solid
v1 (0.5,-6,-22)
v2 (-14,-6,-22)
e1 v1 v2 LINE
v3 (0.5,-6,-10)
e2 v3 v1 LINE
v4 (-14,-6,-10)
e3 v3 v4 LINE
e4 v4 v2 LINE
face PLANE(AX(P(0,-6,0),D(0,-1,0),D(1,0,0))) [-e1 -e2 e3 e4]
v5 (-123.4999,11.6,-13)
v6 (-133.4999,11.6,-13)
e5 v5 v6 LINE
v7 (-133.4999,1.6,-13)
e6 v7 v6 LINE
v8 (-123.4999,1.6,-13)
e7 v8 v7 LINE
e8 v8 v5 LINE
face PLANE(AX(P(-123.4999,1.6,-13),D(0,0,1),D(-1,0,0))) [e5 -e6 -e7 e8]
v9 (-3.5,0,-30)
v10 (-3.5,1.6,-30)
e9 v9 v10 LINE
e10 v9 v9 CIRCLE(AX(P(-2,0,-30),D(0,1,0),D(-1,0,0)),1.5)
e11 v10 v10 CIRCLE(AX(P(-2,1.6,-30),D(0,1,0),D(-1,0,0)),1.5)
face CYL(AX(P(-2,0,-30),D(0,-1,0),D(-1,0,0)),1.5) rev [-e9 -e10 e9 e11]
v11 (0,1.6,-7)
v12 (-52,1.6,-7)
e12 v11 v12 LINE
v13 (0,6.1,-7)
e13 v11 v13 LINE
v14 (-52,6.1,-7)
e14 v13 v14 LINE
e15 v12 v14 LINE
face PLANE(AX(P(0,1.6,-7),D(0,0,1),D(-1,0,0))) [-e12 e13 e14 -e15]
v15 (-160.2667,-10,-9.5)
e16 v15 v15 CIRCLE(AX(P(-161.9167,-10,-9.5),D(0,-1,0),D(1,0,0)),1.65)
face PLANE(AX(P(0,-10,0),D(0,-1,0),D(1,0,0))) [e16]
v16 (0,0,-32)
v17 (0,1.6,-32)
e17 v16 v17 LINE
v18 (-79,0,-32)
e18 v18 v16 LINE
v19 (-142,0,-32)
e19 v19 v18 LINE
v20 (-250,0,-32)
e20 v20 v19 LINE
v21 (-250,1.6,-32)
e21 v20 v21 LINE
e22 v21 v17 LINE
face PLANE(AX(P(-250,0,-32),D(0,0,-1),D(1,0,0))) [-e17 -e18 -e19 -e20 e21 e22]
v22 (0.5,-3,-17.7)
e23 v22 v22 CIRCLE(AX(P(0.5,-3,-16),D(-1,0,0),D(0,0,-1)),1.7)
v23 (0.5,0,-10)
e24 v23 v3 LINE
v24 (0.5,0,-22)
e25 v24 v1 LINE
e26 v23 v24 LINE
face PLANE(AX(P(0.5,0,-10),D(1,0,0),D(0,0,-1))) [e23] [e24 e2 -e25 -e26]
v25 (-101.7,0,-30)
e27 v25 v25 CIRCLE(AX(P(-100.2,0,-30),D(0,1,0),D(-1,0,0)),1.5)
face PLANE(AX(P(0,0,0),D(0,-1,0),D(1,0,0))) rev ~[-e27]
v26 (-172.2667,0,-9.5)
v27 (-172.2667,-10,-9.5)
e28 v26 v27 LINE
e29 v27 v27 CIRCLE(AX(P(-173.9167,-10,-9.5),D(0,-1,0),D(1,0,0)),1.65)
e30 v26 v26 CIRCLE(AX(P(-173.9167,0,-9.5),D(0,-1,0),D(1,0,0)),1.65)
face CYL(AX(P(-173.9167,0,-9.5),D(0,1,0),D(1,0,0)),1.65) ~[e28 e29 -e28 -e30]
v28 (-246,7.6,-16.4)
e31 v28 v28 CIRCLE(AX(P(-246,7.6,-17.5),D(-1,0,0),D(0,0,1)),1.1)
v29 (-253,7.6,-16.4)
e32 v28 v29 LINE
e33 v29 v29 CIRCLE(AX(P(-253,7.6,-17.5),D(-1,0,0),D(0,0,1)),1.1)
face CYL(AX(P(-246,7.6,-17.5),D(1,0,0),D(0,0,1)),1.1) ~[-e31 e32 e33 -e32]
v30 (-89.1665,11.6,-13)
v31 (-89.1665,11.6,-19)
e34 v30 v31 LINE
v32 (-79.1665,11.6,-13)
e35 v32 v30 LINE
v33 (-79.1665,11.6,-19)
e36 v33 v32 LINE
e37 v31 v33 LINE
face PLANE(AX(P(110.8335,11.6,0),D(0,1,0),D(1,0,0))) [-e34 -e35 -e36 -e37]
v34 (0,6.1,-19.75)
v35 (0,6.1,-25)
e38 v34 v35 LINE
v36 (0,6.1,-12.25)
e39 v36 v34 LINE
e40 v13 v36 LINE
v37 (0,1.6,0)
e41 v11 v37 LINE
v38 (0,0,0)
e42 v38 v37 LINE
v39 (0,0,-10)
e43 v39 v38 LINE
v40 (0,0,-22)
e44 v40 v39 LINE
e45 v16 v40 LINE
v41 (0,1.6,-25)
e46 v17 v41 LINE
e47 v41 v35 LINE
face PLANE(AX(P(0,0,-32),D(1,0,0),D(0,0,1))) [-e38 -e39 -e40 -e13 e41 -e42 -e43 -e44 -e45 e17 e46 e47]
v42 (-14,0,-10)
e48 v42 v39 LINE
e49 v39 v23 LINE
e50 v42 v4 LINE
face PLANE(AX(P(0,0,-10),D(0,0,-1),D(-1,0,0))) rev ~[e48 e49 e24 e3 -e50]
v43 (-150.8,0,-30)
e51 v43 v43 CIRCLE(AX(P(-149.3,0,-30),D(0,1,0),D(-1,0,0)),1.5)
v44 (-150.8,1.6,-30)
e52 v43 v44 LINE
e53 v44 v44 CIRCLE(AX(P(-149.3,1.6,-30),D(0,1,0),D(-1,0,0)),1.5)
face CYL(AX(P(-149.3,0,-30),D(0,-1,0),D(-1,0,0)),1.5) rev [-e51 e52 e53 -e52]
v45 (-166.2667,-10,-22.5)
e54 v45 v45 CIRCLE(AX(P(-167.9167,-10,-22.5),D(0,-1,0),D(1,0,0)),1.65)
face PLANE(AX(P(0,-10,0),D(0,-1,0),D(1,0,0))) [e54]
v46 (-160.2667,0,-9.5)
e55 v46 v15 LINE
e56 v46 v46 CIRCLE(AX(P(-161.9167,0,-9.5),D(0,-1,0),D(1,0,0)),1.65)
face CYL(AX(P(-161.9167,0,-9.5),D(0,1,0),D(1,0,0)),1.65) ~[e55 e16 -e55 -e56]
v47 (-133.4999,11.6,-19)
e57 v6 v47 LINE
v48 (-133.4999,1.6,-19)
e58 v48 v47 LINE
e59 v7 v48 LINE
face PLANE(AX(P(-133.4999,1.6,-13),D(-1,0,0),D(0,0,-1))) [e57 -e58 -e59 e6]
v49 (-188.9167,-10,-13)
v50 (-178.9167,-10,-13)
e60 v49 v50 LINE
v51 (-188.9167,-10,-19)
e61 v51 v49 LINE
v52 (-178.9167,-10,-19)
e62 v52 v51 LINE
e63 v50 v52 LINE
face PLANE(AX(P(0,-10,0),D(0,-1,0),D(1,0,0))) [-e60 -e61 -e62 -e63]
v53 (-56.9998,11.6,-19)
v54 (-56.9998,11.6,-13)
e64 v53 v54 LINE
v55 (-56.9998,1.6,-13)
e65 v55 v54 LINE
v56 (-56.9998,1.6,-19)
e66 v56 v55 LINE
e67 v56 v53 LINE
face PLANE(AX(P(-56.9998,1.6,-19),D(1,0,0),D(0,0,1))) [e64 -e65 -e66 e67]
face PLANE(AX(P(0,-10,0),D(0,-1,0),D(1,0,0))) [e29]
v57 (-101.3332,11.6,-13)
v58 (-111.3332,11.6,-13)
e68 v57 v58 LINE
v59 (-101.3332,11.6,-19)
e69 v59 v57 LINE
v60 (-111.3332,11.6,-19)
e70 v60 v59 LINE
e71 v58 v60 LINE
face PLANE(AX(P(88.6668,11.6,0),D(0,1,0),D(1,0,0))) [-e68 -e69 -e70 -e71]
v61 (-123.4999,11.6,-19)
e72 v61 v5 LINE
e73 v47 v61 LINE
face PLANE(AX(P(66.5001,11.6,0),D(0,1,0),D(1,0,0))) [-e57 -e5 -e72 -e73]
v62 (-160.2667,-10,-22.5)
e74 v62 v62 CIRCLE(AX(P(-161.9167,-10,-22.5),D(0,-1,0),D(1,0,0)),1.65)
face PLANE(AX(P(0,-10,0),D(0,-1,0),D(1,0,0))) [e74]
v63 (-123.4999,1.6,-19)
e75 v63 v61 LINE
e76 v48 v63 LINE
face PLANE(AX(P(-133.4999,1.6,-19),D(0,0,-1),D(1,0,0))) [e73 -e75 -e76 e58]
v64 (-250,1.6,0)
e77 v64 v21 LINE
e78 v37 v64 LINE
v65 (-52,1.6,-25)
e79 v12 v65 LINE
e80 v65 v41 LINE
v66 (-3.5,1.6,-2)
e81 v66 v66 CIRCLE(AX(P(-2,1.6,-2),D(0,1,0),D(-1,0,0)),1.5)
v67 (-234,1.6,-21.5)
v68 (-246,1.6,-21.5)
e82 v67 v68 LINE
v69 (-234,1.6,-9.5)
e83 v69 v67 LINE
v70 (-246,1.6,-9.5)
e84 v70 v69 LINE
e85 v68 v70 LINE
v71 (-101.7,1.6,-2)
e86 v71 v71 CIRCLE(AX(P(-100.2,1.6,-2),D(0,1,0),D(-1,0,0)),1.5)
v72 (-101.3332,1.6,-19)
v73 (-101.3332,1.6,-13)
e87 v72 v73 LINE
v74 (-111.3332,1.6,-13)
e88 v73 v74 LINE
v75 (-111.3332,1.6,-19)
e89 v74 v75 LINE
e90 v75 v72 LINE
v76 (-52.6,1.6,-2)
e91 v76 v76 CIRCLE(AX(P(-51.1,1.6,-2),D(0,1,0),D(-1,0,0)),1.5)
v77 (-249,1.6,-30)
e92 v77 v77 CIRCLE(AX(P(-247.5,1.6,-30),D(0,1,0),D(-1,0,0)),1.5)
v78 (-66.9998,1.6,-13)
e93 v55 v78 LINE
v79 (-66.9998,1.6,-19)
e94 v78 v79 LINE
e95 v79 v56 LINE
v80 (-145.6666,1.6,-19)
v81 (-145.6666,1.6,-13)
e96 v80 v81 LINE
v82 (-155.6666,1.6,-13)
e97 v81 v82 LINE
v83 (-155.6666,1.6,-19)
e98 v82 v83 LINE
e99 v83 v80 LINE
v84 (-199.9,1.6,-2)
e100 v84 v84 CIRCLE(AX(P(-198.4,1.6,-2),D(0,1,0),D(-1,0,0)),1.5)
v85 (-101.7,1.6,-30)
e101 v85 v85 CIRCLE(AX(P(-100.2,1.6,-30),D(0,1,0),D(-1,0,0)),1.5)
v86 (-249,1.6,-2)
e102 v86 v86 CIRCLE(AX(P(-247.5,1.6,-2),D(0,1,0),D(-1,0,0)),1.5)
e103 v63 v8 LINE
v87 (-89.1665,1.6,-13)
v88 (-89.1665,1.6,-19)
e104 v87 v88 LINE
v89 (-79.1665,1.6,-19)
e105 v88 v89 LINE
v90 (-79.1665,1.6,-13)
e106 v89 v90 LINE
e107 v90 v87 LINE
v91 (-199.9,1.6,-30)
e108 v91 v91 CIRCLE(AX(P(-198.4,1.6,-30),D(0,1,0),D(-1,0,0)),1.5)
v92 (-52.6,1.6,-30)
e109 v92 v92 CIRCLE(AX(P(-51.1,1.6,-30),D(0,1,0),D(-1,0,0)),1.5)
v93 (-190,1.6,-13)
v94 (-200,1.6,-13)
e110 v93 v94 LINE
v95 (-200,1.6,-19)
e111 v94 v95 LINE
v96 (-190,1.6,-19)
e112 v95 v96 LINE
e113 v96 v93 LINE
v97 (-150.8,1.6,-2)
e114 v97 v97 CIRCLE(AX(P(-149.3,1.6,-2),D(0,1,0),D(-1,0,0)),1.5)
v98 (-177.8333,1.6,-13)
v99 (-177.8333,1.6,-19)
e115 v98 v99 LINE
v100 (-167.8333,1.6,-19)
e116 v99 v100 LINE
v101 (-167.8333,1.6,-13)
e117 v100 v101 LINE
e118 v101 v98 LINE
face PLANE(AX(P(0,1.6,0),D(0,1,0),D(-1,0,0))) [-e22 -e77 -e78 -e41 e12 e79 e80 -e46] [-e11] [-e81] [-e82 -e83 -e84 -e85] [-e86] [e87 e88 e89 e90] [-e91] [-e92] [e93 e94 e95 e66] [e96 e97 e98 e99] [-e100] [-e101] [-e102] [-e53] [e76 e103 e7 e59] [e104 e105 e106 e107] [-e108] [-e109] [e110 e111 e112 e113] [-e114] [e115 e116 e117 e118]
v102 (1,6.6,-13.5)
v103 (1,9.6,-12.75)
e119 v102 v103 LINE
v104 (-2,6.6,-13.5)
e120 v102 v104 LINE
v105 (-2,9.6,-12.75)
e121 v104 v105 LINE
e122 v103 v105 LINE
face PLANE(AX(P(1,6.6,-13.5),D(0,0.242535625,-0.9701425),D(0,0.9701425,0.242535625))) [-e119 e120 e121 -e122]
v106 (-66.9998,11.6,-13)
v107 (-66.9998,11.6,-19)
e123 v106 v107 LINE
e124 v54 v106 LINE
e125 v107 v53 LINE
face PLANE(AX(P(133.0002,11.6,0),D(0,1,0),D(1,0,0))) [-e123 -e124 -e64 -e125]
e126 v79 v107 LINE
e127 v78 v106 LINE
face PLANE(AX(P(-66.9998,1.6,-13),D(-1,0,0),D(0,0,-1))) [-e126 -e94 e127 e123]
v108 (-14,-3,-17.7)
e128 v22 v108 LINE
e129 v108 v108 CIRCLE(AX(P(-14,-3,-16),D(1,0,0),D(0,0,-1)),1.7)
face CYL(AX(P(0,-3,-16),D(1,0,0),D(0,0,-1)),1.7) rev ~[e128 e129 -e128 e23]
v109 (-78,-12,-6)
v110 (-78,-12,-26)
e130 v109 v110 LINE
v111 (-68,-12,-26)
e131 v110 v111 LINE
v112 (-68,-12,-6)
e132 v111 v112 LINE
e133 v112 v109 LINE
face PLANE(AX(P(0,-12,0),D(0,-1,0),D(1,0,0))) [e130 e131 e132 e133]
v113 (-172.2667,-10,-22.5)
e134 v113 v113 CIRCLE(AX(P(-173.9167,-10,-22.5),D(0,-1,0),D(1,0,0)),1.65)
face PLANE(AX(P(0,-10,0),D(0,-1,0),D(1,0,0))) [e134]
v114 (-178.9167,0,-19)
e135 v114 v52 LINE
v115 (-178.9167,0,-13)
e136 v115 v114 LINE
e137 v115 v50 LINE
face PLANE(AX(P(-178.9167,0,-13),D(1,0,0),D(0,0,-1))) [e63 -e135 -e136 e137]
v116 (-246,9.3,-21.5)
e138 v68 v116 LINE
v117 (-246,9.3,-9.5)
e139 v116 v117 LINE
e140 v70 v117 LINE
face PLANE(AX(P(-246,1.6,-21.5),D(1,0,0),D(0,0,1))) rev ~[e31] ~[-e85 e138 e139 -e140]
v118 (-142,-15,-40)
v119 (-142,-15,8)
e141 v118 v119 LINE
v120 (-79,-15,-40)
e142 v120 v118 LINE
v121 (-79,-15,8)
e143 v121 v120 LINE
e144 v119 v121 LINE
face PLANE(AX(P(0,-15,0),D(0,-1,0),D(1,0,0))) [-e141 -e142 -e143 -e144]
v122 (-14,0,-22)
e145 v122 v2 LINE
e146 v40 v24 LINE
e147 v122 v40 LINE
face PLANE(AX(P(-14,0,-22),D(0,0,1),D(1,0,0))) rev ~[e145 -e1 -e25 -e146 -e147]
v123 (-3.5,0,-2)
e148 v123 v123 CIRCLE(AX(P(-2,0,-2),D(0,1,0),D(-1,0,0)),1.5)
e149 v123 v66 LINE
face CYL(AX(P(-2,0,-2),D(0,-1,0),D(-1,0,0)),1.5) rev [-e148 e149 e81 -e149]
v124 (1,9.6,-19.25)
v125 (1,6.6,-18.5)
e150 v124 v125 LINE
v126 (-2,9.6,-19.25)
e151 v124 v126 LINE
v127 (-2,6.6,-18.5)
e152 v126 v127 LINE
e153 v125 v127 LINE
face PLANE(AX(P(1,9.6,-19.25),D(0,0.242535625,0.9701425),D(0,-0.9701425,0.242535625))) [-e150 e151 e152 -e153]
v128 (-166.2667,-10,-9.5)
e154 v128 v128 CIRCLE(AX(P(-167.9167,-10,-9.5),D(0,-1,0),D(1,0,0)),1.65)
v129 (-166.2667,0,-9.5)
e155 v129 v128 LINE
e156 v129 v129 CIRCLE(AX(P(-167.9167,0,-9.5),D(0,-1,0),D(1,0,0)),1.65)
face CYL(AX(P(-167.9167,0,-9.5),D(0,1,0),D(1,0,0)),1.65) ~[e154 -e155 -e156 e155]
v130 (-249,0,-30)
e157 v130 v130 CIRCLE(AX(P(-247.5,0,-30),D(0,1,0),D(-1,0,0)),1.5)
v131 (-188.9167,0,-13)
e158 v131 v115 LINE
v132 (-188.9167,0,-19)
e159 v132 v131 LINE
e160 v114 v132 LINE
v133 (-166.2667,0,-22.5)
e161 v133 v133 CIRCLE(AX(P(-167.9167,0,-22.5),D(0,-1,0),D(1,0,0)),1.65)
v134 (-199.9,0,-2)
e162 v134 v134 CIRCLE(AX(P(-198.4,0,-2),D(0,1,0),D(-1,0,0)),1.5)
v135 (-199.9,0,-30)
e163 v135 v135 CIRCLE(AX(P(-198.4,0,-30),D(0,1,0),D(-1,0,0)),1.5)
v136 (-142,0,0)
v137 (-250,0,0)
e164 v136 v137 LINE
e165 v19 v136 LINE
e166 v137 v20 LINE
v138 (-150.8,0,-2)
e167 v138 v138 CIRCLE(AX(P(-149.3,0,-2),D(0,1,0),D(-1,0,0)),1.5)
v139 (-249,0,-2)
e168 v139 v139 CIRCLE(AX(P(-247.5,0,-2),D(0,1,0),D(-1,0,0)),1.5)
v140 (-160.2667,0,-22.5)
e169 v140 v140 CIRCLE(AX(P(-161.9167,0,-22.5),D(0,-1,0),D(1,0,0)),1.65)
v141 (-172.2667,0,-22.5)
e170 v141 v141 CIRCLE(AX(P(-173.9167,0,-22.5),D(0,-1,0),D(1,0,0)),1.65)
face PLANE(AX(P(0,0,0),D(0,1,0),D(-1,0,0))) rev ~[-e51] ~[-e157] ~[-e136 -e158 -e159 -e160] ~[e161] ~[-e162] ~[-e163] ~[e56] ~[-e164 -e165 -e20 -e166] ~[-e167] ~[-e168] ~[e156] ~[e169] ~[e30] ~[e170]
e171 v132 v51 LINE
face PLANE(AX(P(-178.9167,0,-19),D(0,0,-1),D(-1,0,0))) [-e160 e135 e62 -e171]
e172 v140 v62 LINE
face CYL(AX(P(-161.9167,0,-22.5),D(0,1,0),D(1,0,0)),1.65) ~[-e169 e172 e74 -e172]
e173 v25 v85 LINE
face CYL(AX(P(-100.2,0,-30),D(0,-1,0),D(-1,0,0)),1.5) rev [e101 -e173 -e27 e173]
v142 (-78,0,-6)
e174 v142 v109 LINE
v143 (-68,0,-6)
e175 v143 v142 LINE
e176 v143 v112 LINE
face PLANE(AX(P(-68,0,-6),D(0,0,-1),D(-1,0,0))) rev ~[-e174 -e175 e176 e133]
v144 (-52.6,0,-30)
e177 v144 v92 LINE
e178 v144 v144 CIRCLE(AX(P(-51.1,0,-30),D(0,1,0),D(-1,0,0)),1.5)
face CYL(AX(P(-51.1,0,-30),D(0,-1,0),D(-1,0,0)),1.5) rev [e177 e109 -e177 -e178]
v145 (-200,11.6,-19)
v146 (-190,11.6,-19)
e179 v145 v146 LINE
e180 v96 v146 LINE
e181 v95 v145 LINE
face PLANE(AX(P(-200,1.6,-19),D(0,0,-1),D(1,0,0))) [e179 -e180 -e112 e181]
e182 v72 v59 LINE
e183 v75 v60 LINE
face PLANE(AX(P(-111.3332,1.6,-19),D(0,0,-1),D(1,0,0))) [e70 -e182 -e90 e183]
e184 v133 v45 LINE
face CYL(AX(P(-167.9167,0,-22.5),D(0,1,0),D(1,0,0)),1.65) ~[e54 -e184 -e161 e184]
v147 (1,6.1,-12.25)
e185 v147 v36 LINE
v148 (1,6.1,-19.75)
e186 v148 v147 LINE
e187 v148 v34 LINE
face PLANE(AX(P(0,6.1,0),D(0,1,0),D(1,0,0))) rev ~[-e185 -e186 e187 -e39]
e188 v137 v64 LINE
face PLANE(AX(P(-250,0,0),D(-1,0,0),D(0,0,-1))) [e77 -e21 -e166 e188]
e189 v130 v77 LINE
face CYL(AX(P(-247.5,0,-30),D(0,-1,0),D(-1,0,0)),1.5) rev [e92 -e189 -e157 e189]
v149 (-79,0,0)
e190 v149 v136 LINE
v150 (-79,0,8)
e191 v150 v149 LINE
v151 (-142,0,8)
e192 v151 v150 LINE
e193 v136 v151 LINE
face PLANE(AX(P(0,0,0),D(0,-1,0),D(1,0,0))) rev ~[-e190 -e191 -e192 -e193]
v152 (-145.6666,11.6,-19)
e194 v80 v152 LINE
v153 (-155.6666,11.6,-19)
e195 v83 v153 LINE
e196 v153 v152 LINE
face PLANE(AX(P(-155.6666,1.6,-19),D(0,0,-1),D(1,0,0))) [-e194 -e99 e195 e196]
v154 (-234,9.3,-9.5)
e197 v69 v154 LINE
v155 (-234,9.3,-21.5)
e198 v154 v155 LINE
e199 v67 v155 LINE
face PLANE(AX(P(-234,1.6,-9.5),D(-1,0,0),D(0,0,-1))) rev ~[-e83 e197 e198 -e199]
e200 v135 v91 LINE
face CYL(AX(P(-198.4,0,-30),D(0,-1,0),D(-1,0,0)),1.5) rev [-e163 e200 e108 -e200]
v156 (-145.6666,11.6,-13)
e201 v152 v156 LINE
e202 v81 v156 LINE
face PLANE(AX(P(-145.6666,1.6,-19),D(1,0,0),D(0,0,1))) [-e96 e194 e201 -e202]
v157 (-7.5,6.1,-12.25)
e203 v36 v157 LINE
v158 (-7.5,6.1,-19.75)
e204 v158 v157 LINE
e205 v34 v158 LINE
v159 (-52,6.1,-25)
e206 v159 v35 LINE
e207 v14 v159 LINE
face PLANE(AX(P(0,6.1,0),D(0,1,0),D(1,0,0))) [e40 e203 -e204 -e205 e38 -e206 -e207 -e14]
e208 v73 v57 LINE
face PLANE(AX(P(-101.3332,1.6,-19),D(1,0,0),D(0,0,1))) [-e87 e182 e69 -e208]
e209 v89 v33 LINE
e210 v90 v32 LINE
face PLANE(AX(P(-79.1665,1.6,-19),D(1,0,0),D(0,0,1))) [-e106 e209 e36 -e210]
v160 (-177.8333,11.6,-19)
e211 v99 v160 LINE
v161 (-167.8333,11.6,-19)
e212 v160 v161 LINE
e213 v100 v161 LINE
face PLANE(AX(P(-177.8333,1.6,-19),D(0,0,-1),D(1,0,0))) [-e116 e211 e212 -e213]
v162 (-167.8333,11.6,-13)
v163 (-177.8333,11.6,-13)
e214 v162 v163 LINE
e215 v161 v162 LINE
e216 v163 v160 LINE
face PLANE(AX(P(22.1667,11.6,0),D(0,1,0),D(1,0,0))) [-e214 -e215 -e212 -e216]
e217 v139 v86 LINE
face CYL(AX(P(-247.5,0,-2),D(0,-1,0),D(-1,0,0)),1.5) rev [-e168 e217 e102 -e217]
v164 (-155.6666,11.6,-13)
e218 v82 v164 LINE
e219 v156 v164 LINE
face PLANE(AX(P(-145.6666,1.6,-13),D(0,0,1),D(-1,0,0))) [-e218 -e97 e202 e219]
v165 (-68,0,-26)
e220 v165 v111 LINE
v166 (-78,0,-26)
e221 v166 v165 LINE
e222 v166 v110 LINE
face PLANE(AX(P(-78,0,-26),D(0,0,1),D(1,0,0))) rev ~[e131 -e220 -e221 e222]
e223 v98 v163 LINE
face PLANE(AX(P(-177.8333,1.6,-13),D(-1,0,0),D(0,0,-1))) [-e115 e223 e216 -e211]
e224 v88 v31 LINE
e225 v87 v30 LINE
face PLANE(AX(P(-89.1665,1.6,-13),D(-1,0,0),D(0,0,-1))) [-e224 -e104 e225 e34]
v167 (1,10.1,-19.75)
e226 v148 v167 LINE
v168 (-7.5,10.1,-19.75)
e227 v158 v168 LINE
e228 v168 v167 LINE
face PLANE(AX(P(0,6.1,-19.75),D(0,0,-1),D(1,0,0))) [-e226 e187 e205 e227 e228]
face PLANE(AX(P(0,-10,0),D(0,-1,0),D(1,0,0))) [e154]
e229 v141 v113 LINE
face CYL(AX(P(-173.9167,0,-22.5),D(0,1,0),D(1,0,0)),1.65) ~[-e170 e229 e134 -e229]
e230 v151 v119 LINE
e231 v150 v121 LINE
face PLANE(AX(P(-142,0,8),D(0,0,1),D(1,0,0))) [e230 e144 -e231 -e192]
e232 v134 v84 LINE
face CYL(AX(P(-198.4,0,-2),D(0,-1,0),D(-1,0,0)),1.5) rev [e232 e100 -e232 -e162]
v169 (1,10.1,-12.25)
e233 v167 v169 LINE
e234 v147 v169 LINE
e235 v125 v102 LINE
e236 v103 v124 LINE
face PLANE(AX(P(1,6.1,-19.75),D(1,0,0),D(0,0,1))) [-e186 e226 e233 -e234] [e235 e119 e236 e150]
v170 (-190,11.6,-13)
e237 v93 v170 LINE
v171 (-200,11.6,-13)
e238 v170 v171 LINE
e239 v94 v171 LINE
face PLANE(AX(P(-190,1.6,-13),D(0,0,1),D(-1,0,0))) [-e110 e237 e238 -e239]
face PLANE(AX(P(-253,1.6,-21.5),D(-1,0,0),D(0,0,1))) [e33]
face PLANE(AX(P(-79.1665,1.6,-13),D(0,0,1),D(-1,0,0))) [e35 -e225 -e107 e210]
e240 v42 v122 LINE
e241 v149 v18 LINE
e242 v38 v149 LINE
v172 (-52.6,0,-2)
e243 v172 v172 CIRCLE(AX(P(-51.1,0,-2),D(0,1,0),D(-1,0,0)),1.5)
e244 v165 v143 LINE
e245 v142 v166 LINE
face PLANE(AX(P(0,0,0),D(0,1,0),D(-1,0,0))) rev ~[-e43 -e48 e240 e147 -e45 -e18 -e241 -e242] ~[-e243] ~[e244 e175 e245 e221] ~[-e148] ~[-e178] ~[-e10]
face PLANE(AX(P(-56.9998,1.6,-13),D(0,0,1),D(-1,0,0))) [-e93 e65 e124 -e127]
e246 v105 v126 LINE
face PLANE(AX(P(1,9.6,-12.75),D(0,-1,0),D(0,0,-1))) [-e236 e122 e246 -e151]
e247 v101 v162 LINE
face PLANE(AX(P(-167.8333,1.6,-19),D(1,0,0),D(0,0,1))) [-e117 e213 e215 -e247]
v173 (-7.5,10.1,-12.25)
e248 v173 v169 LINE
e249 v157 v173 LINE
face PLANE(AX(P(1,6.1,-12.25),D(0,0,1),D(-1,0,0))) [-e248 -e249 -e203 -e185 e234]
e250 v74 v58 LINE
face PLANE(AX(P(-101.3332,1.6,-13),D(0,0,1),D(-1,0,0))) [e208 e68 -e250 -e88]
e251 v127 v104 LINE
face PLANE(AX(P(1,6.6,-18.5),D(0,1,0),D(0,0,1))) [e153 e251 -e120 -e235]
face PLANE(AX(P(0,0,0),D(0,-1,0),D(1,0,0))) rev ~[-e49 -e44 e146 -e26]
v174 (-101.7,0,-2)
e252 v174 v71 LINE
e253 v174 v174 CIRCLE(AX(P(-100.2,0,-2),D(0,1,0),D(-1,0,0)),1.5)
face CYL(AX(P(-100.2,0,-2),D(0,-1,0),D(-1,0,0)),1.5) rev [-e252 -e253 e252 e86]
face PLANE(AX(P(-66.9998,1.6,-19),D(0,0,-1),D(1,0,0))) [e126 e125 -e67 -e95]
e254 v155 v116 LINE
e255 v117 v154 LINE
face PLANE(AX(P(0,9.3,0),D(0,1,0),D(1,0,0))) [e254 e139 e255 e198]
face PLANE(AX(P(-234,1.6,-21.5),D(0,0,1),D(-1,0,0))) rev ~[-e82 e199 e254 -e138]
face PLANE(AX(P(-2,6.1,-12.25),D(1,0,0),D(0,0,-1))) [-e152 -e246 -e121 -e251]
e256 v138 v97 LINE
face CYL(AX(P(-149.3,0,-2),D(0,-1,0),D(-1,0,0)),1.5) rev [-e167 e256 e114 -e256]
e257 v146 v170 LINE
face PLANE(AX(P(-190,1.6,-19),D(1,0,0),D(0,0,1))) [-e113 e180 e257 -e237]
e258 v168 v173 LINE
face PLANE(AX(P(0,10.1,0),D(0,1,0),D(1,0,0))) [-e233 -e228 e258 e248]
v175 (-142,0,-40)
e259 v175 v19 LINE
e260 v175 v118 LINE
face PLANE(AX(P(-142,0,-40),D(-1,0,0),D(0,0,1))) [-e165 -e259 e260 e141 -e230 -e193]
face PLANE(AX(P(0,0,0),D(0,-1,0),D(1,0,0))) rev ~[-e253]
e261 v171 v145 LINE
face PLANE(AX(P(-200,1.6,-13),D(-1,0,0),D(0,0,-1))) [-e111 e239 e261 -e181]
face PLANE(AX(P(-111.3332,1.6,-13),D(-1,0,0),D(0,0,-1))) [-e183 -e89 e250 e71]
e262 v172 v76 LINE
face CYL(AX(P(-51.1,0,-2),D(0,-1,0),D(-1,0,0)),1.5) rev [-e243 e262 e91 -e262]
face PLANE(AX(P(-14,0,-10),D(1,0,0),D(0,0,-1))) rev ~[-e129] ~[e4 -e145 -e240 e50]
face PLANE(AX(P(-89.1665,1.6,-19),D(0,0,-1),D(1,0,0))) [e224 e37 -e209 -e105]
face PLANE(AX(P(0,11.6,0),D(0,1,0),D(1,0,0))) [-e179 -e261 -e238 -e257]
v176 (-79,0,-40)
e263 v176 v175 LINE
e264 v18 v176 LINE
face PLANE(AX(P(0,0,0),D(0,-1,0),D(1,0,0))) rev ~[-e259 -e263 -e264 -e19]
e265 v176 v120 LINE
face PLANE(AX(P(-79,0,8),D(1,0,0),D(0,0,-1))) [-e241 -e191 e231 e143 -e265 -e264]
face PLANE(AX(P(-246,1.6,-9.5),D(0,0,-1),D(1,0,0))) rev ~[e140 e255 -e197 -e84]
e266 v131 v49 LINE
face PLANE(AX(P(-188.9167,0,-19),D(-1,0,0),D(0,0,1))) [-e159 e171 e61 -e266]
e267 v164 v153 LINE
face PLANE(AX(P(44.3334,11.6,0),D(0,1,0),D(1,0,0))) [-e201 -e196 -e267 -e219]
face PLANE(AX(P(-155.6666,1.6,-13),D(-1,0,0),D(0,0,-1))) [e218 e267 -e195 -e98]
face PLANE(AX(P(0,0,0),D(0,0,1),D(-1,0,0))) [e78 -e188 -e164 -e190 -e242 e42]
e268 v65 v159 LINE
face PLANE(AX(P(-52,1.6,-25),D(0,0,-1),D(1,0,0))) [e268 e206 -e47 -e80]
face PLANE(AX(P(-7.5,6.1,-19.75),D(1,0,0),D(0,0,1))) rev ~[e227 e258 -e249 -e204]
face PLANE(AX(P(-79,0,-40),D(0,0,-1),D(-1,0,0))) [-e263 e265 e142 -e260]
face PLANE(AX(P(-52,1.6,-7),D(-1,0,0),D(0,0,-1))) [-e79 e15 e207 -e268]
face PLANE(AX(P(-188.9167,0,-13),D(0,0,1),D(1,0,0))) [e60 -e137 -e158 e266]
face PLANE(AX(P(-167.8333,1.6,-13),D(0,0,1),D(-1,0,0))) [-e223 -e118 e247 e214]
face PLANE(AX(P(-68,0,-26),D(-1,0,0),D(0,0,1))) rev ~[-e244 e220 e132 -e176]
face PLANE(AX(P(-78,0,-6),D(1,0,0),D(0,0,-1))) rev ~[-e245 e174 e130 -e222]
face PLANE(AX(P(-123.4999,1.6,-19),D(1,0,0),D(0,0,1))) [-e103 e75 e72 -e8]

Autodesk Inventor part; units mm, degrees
ref_plane "YZ Plane" through (0, 0, 0) normal (1, 0, 0) x (0, 1, 0)
ref_plane "XZ Plane" through (0, 0, 0) normal (0, 1, 0) x (-1, 0, 0)
ref_plane "XY Plane" through (0, 0, 0) normal (0, 0, 1) x (1, 0, 0)
sketch "Esquisse1" plane through (0, 0, 0) normal (0, 1, 0) x (-1, 0, 0)
  line L0 (0, 0) -> (250, 0)
  line L1 (250, 0) -> (250, -32)
  line L2 (250, -32) -> (0, -32)
  line L3 (0, -32) -> (0, 0)
  circle A0 centre (2, -2) radius 1.5
  line L4 (250, -16) -> (0, -16) construction
  circle A1 centre (2, -30) radius 1.5
  circle A2 centre (51.1, -2) radius 1.5
  circle A3 centre (51.1, -30) radius 1.5
  circle A4 centre (100.2, -2) radius 1.5
  circle A5 centre (100.2, -30) radius 1.5
  circle A6 centre (149.3, -2) radius 1.5
  circle A7 centre (149.3, -30) radius 1.5
  circle A8 centre (198.4, -2) radius 1.5
  circle A9 centre (198.4, -30) radius 1.5
  circle A10 centre (247.5, -2) radius 1.5
  circle A11 centre (247.5, -30) radius 1.5
  dimension "d0" = 32
  dimension "d1" = 250
  dimension "d2" = 2
  dimension "d3" = 2
  dimension "d4" = 3
  dimension "d7" = 49.1
extrude "Extrusion1" add sketch "Esquisse1" along normal blind 1.6
sketch "Esquisse2" plane through (0, 1.6, 0) normal (0, 1, 0) x (1, 0, 0)
  circle A0 centre (-247.5, 30) radius 1.5 construction
  circle A1 centre (-247.5, 2) radius 1.5 construction
  circle A2 centre (-198.4, 30) radius 1.5 construction
  circle A3 centre (-198.4, 2) radius 1.5 construction
  circle A4 centre (-149.3, 30) radius 1.5 construction
  circle A5 centre (-149.3, 2) radius 1.5 construction
  circle A6 centre (-100.2, 30) radius 1.5 construction
  circle A7 centre (-100.2, 2) radius 1.5 construction
  circle A8 centre (-51.1, 30) radius 1.5 construction
  circle A9 centre (-51.1, 2) radius 1.5 construction
  circle A10 centre (-2, 30) radius 1.5 construction
  circle A11 centre (-2, 2) radius 1.5 construction
  line L0 (-250, 0) -> (0, 0) construction
  line L1 (0, 0) -> (0, 32) construction
  line L2 (0, 32) -> (-250, 32) construction
  line L3 (-250, 32) -> (-250, 0) construction
  line L4 (-246, 9.5) -> (-234, 9.5)
  line L5 (-234, 9.5) -> (-234, 21.5)
  line L6 (-234, 21.5) -> (-246, 21.5)
  line L7 (-246, 21.5) -> (-246, 9.5)
  dimension "d14" = 12
  dimension "d15" = 9.5
  dimension "d16" = 4
extrude "Extrusion2" add sketch "Esquisse2" along normal blind 7.7
sketch "Esquisse3" plane through (-246, 1.6, -21.5) normal (-1, 0, 0) x (0, 0, 1)
  circle A0 centre (4, 6) radius 1.1
  line L0 (-10.5, 0) -> (21.5, 0) projected
  line L1 (0, 0) -> (0, 7.7) projected
  line L2 (-10.5, -1.6) -> (21.5, -1.6) projected
  line L3 (5.5, -1.6) -> (5.5, 11.8569) construction
  dimension "d19" = 6
  dimension "d20" = 2.2
  dimension "d21" = 4
extrude "Extrusion3" add sketch "Esquisse3" along normal blind 7
sketch "Esquisse4" plane through (0, 1.6, 0) normal (0, 1, 0) x (1, 0, 0)
  line L0 (-246, 9.5) -> (-246, 21.5) projected
  line L1 (-246, 21.5) -> (-234, 21.5) projected
  line L2 (-234, 21.5) -> (-234, 9.5) projected
  line L3 (-234, 9.5) -> (-246, 9.5) projected
  circle A0 centre (-247.5, 30) radius 1.5 projected
  circle A1 centre (-247.5, 2) radius 1.5 projected
  circle A2 centre (-198.4, 30) radius 1.5 projected
  circle A3 centre (-198.4, 2) radius 1.5 projected
  circle A4 centre (-149.3, 30) radius 1.5 projected
  circle A5 centre (-149.3, 2) radius 1.5 projected
  circle A6 centre (-100.2, 30) radius 1.5 projected
  circle A7 centre (-100.2, 2) radius 1.5 projected
  circle A8 centre (-51.1, 30) radius 1.5 projected
  circle A9 centre (-51.1, 2) radius 1.5 projected
  circle A10 centre (-2, 30) radius 1.5 projected
  circle A11 centre (-2, 2) radius 1.5 projected
  line L4 (-250, 0) -> (0, 0) projected
  line L5 (0, 0) -> (0, 32) projected
  line L6 (0, 32) -> (-250, 32) projected
  line L7 (-250, 32) -> (-250, 0) projected
  line L8 (0, 0) -> (0, 32) construction
  line L9 (0, 16) -> (-250, 16) construction
  line L10 (-200, 19) -> (-190, 19)
  line L11 (-190, 19) -> (-190, 13)
  line L12 (-190, 13) -> (-200, 13)
  line L13 (-200, 13) -> (-200, 19)
  line L14 (-190, 16) -> (-200, 16) construction
  line L15 (-195, 19) -> (-195, 13) construction
  dimension "d24" = 10
  dimension "d26" = 6
  dimension "d29" = 55
extrude "Extrusion4" add sketch "Esquisse4" along normal blind 10 contours L10 L11 L12 L13
pattern_linear "Réseau rectangulaire1" count 7 spacing 22.1667 along (1, 0, 0) of "Extrusion4"
sketch "Esquisse6" plane through (0, 0, 0) normal (0, -1, 0) x (1, 0, 0)
  line L0 (-177.8333, -13) -> (-177.8333, -19) projected
  line L1 (-190, -19) -> (-190, -13) projected
  line L2 (-188.9167, -13) -> (-178.9167, -13)
  line L3 (-178.9167, -13) -> (-178.9167, -19)
  line L4 (-178.9167, -19) -> (-188.9167, -19)
  line L5 (-188.9167, -19) -> (-188.9167, -13)
  line L6 (-188.9167, -16) -> (-178.9167, -16) construction
  line L7 (-177.8333, -19) -> (-177.8333, -13) construction
  line L8 (-177.8333, -16) -> (-190, -16) construction
  line L9 (-190, -13) -> (-190, -19) construction
  point P0 (0, 0)
  point P1 (-183.9167, -16)
  dimension "d33" = 10
  dimension "d34" = 6
extrude "Extrusion5" add sketch "Esquisse6" along normal blind 10
sketch "Esquisse9" plane through (0, 0, 0) normal (0, -1, 0) x (1, 0, 0)
  line L0 (0, 0) -> (-250, 0) projected
  line L1 (-250, 0) -> (-250, -32) projected
  line L2 (-250, -32) -> (0, -32) projected
  line L3 (0, -32) -> (0, 0) projected
  circle A0 centre (-2, -2) radius 1.5 projected
  circle A1 centre (-2, -30) radius 1.5 projected
  circle A2 centre (-51.1, -2) radius 1.5 projected
  circle A3 centre (-51.1, -30) radius 1.5 projected
  circle A4 centre (-100.2, -30) radius 1.5 projected
  circle A5 centre (-100.2, -2) radius 1.5 projected
  circle A6 centre (-149.3, -2) radius 1.5 projected
  circle A7 centre (-149.3, -30) radius 1.5 projected
  circle A8 centre (-198.4, -2) radius 1.5 projected
  circle A9 centre (-198.4, -30) radius 1.5 projected
  circle A10 centre (-247.5, -2) radius 1.5 projected
  circle A11 centre (-247.5, -30) radius 1.5 projected
  line L4 (-178.9167, -13) -> (-178.9167, -19) projected
  line L5 (-178.9167, -19) -> (-188.9167, -19) projected
  line L6 (-188.9167, -19) -> (-188.9167, -13) projected
  line L7 (-188.9167, -13) -> (-178.9167, -13) projected
  line L8 (-178.9167, -13) -> (-178.9167, -19) construction
  line L9 (-178.9167, -16) -> (-142, -16) construction
  line L10 (-142, -1) -> (-142, -31) construction
  circle A12 centre (-173.9167, -22.5) radius 1.65
  circle A13 centre (-167.9167, -22.5) radius 1.65
  circle A14 centre (-161.9167, -22.5) radius 1.65
  circle A15 centre (-173.9167, -9.5) radius 1.65
  circle A16 centre (-167.9167, -9.5) radius 1.65
  circle A17 centre (-161.9167, -9.5) radius 1.65
  dimension "d51" = 6
  dimension "d56" = 3.3
  dimension "d57" = 13
  dimension "d58" = 5
extrude "Extrusion8" add sketch "Esquisse9" along normal blind 10 contours A12 | A13 | A14 | A15 | A16 | A17
sketch "Esquisse11" plane through (0, 1.6, 0) normal (0, 1, 0) x (1, 0, 0)
  line L0 (-57, 19) -> (-57, 13) projected
  line L1 (-57, 13) -> (-67, 13) projected
  line L2 (-67, 13) -> (-67, 19) projected
  line L3 (-67, 19) -> (-57, 19) projected
  line L4 (-79.1667, 19) -> (-79.1667, 13) projected
  line L5 (-79.1667, 13) -> (-89.1667, 13) projected
  line L6 (-89.1667, 13) -> (-89.1667, 19) projected
  line L7 (-89.1667, 19) -> (-79.1667, 19) projected
  line L8 (-101.3333, 19) -> (-101.3333, 13) projected
  line L9 (-101.3333, 13) -> (-111.3333, 13) projected
  line L10 (-111.3333, 13) -> (-111.3333, 19) projected
  line L11 (-111.3333, 19) -> (-101.3333, 19) projected
  line L12 (-123.5, 19) -> (-123.5, 13) projected
  line L13 (-123.5, 13) -> (-133.5, 13) projected
  line L14 (-133.5, 13) -> (-133.5, 19) projected
  line L15 (-133.5, 19) -> (-123.5, 19) projected
  line L16 (-145.6667, 19) -> (-145.6667, 13) projected
  line L17 (-145.6667, 13) -> (-155.6667, 13) projected
  line L18 (-155.6667, 13) -> (-155.6667, 19) projected
  line L19 (-155.6667, 19) -> (-145.6667, 19) projected
  line L20 (-167.8333, 19) -> (-167.8333, 13) projected
  line L21 (-167.8333, 13) -> (-177.8333, 13) projected
  line L22 (-177.8333, 13) -> (-177.8333, 19) projected
  line L23 (-177.8333, 19) -> (-167.8333, 19) projected
  line L24 (-190, 19) -> (-190, 13) projected
  line L25 (-190, 13) -> (-200, 13) projected
  line L26 (-200, 13) -> (-200, 19) projected
  line L27 (-200, 19) -> (-190, 19) projected
  line L28 (-246, 9.5) -> (-246, 21.5) projected
  line L29 (-246, 21.5) -> (-234, 21.5) projected
  line L30 (-234, 21.5) -> (-234, 9.5) projected
  line L31 (-234, 9.5) -> (-246, 9.5) projected
  circle A0 centre (-247.5, 30) radius 1.5 projected
  circle A1 centre (-247.5, 2) radius 1.5 projected
  circle A2 centre (-198.4, 30) radius 1.5 projected
  circle A3 centre (-198.4, 2) radius 1.5 projected
  circle A4 centre (-149.3, 30) radius 1.5 projected
  circle A5 centre (-149.3, 2) radius 1.5 projected
  circle A6 centre (-100.2, 30) radius 1.5 projected
  circle A7 centre (-100.2, 2) radius 1.5 projected
  circle A8 centre (-51.1, 30) radius 1.5 projected
  circle A9 centre (-51.1, 2) radius 1.5 projected
  circle A10 centre (-2, 30) radius 1.5 projected
  circle A11 centre (-2, 2) radius 1.5 projected
  line L32 (-250, 0) -> (0, 0) projected
  line L33 (0, 0) -> (0, 32) projected
  line L34 (0, 32) -> (-250, 32) projected
  line L35 (-250, 32) -> (-250, 0) projected
  line L36 (-52, 25) -> (0, 25)
  line L37 (0, 25) -> (0, 7)
  line L38 (0, 7) -> (-52, 7)
  line L39 (-52, 7) -> (-52, 25)
  line L40 (-52, 16) -> (0, 16) construction
  line L41 (0, 0) -> (0, 32) construction
  line L42 (0, 16) -> (-57, 16) construction
  line L43 (-57, 19) -> (-57, 13) construction
  dimension "d61" = 18
  dimension "d62" = 52
extrude "Extrusion9" add sketch "Esquisse11" along normal blind 4.5 contours L38 L39 L36 L33
sketch "Esquisse12" plane through (0, 6.1, 0) normal (0, 1, 0) x (1, 0, 0)
  line L0 (0, 25) -> (-52, 25) projected
  line L1 (-52, 25) -> (-52, 7) projected
  line L2 (-52, 7) -> (0, 7) projected
  line L3 (0, 7) -> (0, 25) projected
  line L4 (0, 32) -> (0, 0) construction
  line L5 (0, 16) -> (-52, 16) construction
  line L6 (-52, 25) -> (-52, 7) construction
  line L7 (-7.5, 12.25) -> (0, 12.25)
  line L8 (0, 12.25) -> (0, 19.75)
  line L9 (0, 19.75) -> (-7.5, 19.75)
  line L10 (-7.5, 19.75) -> (-7.5, 12.25)
  line L11 (0, 19.75) -> (1, 19.75)
  line L12 (1, 19.75) -> (1, 12.25)
  line L13 (1, 12.25) -> (0, 12.25)
  line L14 (0, 12.25) -> (0, 19.75)
  point P0 (0, 16)
  dimension "d65" = 7.5
  dimension "d66" = 7.5
  dimension "d69" = 1
extrude "Extrusion10" add sketch "Esquisse12" along normal blind 4 contours L11 L12 L13 L3 | L3 L7 L10 L9
sketch "Esquisse13" plane through (1, 6.1, -12.25) normal (1, 0, 0) x (0, 0, -1)
  line L0 (0, 0) -> (7.5, 0) projected
  line L1 (7.5, 0) -> (7.5, 4) projected
  line L2 (0, 4) -> (7.5, 4) projected
  line L3 (0, 0) -> (0, 4) projected
  line L4 (0.5, 3.5) -> (7, 3.5)
  line L5 (7, 3.5) -> (6.25, 0.5)
  line L6 (6.25, 0.5) -> (1.25, 0.5)
  line L7 (1.25, 0.5) -> (0.5, 3.5)
  line L8 (3.75, 3.5) -> (3.75, 0.5) construction
  line L9 (7.5, 4) -> (0, 4) construction
  line L10 (3.75, 4) -> (3.75, 0) construction
  line L11 (12.75, 0) -> (-5.25, 0) construction
  point P0 (-12.25, -6.1)
  dimension "d71" = 0.5
  dimension "d72" = 0.5
  dimension "d73" = 0.5
  dimension "d74" = 5
extrude "Extrusion11" cut sketch "Esquisse13" against normal blind 3 contours L4 L5 L6 L7
sketch "Esquisse14" plane through (0, 0, 0) normal (0, -1, 0) x (1, 0, 0)
  line L0 (0, -10) -> (-14, -10)
  line L1 (-14, -10) -> (-14, -22)
  line L2 (-14, -22) -> (0, -22)
  line L3 (0, -22) -> (0, -10)
  line L4 (0, -12.25) -> (0, -19.75) construction
  line L5 (0, -16) -> (-15.2374, -16) construction
  line L6 (0, -16) -> (-14, -16) construction
  line L7 (0, -32) -> (0, 0) construction
  line L8 (0.5, -22) -> (0, -22)
  line L9 (0, -22) -> (0, -10)
  line L10 (0, -10) -> (0.5, -10)
  line L11 (0.5, -10) -> (0.5, -22)
  dimension "d77" = 12
  dimension "d78" = 14
  dimension "d85" = 0.5
extrude "Extrusion12" add sketch "Esquisse14" along normal blind 6
sketch "Esquisse15" plane through (0, 0, -32) normal (1, 0, 0) x (0, 0, -1)
  line L0 (0, 0) -> (-10, 0) projected
  line L1 (0, 0) -> (0, 1.6) projected
  line L2 (-7, 1.6) -> (0, 1.6) projected
  line L3 (-7, 1.6) -> (-7, 6.1) projected
  line L4 (-12.25, 6.1) -> (-7, 6.1) projected
  line L5 (-19.75, 6.1) -> (-12.25, 6.1) projected
  line L6 (-25, 6.1) -> (-19.75, 6.1) projected
  line L7 (-25, 1.6) -> (-25, 6.1) projected
  line L8 (-32, 1.6) -> (-25, 1.6) projected
  line L9 (-32, 0) -> (-32, 1.6) projected
  line L10 (-22, -6) -> (-10, -6) construction
  line L11 (-16, -6) -> (-16, -0.2) construction
  circle A0 centre (-16, -3) radius 1.7
  line L12 (-10, 0) -> (-22, 0) construction
  line L13 (-22, 0) -> (-32, 0) projected
  line L14 (-10, 0) -> (-22, 0) projected
  dimension "d81" = 3
  dimension "d82" = 3.4
extrude "Extrusion13" cut sketch "Esquisse15" along normal mid plane 40 contours A0
sketch "Esquisse16" plane through (0, 0, 0) normal (0, -1, 0) x (1, 0, 0)
  line L0 (-142, 8) -> (-79, 8)
  line L1 (-79, 8) -> (-79, -40)
  line L2 (-79, -40) -> (-142, -40)
  line L3 (-142, -40) -> (-142, 8)
  line L4 (-79, -16) -> (-142, -16) construction
  line L5 (-250, 0) -> (-250, -32) construction
  line L6 (-250, -16) -> (0, -16) construction
  line L7 (0, -32) -> (0, -22) construction
  line L8 (-14, -10) -> (-14, -22) construction
  point P0 (0, 0)
  dimension "d86" = 63
  dimension "d87" = 48
  dimension "d91" = 108
extrude "Extrusion14" add sketch "Esquisse16" along normal blind 15
sketch "Esquisse17" plane through (0, 0, 0) normal (0, -1, 0) x (1, 0, 0)
  line L0 (-78, -26) -> (-68, -26)
  line L1 (-68, -26) -> (-68, -6)
  line L2 (-68, -6) -> (-78, -6)
  line L3 (-78, -6) -> (-78, -26)
  line L4 (-14, -22) -> (-14, -10) construction
  line L5 (-14, -16) -> (-79, -16) construction
  line L6 (-79, 0) -> (-79, -32) construction
  line L7 (-78, -16) -> (-68, -16) construction
  line L8 (0, -10) -> (0, 0) construction
  dimension "d92" = 68
  dimension "d93" = 10
  dimension "d94" = 20
extrude "Extrusion15" add sketch "Esquisse17" along normal blind 12
equation "\"d72\" = d71"
equation "\"d73\" = d71"
properties part number "electronics"
